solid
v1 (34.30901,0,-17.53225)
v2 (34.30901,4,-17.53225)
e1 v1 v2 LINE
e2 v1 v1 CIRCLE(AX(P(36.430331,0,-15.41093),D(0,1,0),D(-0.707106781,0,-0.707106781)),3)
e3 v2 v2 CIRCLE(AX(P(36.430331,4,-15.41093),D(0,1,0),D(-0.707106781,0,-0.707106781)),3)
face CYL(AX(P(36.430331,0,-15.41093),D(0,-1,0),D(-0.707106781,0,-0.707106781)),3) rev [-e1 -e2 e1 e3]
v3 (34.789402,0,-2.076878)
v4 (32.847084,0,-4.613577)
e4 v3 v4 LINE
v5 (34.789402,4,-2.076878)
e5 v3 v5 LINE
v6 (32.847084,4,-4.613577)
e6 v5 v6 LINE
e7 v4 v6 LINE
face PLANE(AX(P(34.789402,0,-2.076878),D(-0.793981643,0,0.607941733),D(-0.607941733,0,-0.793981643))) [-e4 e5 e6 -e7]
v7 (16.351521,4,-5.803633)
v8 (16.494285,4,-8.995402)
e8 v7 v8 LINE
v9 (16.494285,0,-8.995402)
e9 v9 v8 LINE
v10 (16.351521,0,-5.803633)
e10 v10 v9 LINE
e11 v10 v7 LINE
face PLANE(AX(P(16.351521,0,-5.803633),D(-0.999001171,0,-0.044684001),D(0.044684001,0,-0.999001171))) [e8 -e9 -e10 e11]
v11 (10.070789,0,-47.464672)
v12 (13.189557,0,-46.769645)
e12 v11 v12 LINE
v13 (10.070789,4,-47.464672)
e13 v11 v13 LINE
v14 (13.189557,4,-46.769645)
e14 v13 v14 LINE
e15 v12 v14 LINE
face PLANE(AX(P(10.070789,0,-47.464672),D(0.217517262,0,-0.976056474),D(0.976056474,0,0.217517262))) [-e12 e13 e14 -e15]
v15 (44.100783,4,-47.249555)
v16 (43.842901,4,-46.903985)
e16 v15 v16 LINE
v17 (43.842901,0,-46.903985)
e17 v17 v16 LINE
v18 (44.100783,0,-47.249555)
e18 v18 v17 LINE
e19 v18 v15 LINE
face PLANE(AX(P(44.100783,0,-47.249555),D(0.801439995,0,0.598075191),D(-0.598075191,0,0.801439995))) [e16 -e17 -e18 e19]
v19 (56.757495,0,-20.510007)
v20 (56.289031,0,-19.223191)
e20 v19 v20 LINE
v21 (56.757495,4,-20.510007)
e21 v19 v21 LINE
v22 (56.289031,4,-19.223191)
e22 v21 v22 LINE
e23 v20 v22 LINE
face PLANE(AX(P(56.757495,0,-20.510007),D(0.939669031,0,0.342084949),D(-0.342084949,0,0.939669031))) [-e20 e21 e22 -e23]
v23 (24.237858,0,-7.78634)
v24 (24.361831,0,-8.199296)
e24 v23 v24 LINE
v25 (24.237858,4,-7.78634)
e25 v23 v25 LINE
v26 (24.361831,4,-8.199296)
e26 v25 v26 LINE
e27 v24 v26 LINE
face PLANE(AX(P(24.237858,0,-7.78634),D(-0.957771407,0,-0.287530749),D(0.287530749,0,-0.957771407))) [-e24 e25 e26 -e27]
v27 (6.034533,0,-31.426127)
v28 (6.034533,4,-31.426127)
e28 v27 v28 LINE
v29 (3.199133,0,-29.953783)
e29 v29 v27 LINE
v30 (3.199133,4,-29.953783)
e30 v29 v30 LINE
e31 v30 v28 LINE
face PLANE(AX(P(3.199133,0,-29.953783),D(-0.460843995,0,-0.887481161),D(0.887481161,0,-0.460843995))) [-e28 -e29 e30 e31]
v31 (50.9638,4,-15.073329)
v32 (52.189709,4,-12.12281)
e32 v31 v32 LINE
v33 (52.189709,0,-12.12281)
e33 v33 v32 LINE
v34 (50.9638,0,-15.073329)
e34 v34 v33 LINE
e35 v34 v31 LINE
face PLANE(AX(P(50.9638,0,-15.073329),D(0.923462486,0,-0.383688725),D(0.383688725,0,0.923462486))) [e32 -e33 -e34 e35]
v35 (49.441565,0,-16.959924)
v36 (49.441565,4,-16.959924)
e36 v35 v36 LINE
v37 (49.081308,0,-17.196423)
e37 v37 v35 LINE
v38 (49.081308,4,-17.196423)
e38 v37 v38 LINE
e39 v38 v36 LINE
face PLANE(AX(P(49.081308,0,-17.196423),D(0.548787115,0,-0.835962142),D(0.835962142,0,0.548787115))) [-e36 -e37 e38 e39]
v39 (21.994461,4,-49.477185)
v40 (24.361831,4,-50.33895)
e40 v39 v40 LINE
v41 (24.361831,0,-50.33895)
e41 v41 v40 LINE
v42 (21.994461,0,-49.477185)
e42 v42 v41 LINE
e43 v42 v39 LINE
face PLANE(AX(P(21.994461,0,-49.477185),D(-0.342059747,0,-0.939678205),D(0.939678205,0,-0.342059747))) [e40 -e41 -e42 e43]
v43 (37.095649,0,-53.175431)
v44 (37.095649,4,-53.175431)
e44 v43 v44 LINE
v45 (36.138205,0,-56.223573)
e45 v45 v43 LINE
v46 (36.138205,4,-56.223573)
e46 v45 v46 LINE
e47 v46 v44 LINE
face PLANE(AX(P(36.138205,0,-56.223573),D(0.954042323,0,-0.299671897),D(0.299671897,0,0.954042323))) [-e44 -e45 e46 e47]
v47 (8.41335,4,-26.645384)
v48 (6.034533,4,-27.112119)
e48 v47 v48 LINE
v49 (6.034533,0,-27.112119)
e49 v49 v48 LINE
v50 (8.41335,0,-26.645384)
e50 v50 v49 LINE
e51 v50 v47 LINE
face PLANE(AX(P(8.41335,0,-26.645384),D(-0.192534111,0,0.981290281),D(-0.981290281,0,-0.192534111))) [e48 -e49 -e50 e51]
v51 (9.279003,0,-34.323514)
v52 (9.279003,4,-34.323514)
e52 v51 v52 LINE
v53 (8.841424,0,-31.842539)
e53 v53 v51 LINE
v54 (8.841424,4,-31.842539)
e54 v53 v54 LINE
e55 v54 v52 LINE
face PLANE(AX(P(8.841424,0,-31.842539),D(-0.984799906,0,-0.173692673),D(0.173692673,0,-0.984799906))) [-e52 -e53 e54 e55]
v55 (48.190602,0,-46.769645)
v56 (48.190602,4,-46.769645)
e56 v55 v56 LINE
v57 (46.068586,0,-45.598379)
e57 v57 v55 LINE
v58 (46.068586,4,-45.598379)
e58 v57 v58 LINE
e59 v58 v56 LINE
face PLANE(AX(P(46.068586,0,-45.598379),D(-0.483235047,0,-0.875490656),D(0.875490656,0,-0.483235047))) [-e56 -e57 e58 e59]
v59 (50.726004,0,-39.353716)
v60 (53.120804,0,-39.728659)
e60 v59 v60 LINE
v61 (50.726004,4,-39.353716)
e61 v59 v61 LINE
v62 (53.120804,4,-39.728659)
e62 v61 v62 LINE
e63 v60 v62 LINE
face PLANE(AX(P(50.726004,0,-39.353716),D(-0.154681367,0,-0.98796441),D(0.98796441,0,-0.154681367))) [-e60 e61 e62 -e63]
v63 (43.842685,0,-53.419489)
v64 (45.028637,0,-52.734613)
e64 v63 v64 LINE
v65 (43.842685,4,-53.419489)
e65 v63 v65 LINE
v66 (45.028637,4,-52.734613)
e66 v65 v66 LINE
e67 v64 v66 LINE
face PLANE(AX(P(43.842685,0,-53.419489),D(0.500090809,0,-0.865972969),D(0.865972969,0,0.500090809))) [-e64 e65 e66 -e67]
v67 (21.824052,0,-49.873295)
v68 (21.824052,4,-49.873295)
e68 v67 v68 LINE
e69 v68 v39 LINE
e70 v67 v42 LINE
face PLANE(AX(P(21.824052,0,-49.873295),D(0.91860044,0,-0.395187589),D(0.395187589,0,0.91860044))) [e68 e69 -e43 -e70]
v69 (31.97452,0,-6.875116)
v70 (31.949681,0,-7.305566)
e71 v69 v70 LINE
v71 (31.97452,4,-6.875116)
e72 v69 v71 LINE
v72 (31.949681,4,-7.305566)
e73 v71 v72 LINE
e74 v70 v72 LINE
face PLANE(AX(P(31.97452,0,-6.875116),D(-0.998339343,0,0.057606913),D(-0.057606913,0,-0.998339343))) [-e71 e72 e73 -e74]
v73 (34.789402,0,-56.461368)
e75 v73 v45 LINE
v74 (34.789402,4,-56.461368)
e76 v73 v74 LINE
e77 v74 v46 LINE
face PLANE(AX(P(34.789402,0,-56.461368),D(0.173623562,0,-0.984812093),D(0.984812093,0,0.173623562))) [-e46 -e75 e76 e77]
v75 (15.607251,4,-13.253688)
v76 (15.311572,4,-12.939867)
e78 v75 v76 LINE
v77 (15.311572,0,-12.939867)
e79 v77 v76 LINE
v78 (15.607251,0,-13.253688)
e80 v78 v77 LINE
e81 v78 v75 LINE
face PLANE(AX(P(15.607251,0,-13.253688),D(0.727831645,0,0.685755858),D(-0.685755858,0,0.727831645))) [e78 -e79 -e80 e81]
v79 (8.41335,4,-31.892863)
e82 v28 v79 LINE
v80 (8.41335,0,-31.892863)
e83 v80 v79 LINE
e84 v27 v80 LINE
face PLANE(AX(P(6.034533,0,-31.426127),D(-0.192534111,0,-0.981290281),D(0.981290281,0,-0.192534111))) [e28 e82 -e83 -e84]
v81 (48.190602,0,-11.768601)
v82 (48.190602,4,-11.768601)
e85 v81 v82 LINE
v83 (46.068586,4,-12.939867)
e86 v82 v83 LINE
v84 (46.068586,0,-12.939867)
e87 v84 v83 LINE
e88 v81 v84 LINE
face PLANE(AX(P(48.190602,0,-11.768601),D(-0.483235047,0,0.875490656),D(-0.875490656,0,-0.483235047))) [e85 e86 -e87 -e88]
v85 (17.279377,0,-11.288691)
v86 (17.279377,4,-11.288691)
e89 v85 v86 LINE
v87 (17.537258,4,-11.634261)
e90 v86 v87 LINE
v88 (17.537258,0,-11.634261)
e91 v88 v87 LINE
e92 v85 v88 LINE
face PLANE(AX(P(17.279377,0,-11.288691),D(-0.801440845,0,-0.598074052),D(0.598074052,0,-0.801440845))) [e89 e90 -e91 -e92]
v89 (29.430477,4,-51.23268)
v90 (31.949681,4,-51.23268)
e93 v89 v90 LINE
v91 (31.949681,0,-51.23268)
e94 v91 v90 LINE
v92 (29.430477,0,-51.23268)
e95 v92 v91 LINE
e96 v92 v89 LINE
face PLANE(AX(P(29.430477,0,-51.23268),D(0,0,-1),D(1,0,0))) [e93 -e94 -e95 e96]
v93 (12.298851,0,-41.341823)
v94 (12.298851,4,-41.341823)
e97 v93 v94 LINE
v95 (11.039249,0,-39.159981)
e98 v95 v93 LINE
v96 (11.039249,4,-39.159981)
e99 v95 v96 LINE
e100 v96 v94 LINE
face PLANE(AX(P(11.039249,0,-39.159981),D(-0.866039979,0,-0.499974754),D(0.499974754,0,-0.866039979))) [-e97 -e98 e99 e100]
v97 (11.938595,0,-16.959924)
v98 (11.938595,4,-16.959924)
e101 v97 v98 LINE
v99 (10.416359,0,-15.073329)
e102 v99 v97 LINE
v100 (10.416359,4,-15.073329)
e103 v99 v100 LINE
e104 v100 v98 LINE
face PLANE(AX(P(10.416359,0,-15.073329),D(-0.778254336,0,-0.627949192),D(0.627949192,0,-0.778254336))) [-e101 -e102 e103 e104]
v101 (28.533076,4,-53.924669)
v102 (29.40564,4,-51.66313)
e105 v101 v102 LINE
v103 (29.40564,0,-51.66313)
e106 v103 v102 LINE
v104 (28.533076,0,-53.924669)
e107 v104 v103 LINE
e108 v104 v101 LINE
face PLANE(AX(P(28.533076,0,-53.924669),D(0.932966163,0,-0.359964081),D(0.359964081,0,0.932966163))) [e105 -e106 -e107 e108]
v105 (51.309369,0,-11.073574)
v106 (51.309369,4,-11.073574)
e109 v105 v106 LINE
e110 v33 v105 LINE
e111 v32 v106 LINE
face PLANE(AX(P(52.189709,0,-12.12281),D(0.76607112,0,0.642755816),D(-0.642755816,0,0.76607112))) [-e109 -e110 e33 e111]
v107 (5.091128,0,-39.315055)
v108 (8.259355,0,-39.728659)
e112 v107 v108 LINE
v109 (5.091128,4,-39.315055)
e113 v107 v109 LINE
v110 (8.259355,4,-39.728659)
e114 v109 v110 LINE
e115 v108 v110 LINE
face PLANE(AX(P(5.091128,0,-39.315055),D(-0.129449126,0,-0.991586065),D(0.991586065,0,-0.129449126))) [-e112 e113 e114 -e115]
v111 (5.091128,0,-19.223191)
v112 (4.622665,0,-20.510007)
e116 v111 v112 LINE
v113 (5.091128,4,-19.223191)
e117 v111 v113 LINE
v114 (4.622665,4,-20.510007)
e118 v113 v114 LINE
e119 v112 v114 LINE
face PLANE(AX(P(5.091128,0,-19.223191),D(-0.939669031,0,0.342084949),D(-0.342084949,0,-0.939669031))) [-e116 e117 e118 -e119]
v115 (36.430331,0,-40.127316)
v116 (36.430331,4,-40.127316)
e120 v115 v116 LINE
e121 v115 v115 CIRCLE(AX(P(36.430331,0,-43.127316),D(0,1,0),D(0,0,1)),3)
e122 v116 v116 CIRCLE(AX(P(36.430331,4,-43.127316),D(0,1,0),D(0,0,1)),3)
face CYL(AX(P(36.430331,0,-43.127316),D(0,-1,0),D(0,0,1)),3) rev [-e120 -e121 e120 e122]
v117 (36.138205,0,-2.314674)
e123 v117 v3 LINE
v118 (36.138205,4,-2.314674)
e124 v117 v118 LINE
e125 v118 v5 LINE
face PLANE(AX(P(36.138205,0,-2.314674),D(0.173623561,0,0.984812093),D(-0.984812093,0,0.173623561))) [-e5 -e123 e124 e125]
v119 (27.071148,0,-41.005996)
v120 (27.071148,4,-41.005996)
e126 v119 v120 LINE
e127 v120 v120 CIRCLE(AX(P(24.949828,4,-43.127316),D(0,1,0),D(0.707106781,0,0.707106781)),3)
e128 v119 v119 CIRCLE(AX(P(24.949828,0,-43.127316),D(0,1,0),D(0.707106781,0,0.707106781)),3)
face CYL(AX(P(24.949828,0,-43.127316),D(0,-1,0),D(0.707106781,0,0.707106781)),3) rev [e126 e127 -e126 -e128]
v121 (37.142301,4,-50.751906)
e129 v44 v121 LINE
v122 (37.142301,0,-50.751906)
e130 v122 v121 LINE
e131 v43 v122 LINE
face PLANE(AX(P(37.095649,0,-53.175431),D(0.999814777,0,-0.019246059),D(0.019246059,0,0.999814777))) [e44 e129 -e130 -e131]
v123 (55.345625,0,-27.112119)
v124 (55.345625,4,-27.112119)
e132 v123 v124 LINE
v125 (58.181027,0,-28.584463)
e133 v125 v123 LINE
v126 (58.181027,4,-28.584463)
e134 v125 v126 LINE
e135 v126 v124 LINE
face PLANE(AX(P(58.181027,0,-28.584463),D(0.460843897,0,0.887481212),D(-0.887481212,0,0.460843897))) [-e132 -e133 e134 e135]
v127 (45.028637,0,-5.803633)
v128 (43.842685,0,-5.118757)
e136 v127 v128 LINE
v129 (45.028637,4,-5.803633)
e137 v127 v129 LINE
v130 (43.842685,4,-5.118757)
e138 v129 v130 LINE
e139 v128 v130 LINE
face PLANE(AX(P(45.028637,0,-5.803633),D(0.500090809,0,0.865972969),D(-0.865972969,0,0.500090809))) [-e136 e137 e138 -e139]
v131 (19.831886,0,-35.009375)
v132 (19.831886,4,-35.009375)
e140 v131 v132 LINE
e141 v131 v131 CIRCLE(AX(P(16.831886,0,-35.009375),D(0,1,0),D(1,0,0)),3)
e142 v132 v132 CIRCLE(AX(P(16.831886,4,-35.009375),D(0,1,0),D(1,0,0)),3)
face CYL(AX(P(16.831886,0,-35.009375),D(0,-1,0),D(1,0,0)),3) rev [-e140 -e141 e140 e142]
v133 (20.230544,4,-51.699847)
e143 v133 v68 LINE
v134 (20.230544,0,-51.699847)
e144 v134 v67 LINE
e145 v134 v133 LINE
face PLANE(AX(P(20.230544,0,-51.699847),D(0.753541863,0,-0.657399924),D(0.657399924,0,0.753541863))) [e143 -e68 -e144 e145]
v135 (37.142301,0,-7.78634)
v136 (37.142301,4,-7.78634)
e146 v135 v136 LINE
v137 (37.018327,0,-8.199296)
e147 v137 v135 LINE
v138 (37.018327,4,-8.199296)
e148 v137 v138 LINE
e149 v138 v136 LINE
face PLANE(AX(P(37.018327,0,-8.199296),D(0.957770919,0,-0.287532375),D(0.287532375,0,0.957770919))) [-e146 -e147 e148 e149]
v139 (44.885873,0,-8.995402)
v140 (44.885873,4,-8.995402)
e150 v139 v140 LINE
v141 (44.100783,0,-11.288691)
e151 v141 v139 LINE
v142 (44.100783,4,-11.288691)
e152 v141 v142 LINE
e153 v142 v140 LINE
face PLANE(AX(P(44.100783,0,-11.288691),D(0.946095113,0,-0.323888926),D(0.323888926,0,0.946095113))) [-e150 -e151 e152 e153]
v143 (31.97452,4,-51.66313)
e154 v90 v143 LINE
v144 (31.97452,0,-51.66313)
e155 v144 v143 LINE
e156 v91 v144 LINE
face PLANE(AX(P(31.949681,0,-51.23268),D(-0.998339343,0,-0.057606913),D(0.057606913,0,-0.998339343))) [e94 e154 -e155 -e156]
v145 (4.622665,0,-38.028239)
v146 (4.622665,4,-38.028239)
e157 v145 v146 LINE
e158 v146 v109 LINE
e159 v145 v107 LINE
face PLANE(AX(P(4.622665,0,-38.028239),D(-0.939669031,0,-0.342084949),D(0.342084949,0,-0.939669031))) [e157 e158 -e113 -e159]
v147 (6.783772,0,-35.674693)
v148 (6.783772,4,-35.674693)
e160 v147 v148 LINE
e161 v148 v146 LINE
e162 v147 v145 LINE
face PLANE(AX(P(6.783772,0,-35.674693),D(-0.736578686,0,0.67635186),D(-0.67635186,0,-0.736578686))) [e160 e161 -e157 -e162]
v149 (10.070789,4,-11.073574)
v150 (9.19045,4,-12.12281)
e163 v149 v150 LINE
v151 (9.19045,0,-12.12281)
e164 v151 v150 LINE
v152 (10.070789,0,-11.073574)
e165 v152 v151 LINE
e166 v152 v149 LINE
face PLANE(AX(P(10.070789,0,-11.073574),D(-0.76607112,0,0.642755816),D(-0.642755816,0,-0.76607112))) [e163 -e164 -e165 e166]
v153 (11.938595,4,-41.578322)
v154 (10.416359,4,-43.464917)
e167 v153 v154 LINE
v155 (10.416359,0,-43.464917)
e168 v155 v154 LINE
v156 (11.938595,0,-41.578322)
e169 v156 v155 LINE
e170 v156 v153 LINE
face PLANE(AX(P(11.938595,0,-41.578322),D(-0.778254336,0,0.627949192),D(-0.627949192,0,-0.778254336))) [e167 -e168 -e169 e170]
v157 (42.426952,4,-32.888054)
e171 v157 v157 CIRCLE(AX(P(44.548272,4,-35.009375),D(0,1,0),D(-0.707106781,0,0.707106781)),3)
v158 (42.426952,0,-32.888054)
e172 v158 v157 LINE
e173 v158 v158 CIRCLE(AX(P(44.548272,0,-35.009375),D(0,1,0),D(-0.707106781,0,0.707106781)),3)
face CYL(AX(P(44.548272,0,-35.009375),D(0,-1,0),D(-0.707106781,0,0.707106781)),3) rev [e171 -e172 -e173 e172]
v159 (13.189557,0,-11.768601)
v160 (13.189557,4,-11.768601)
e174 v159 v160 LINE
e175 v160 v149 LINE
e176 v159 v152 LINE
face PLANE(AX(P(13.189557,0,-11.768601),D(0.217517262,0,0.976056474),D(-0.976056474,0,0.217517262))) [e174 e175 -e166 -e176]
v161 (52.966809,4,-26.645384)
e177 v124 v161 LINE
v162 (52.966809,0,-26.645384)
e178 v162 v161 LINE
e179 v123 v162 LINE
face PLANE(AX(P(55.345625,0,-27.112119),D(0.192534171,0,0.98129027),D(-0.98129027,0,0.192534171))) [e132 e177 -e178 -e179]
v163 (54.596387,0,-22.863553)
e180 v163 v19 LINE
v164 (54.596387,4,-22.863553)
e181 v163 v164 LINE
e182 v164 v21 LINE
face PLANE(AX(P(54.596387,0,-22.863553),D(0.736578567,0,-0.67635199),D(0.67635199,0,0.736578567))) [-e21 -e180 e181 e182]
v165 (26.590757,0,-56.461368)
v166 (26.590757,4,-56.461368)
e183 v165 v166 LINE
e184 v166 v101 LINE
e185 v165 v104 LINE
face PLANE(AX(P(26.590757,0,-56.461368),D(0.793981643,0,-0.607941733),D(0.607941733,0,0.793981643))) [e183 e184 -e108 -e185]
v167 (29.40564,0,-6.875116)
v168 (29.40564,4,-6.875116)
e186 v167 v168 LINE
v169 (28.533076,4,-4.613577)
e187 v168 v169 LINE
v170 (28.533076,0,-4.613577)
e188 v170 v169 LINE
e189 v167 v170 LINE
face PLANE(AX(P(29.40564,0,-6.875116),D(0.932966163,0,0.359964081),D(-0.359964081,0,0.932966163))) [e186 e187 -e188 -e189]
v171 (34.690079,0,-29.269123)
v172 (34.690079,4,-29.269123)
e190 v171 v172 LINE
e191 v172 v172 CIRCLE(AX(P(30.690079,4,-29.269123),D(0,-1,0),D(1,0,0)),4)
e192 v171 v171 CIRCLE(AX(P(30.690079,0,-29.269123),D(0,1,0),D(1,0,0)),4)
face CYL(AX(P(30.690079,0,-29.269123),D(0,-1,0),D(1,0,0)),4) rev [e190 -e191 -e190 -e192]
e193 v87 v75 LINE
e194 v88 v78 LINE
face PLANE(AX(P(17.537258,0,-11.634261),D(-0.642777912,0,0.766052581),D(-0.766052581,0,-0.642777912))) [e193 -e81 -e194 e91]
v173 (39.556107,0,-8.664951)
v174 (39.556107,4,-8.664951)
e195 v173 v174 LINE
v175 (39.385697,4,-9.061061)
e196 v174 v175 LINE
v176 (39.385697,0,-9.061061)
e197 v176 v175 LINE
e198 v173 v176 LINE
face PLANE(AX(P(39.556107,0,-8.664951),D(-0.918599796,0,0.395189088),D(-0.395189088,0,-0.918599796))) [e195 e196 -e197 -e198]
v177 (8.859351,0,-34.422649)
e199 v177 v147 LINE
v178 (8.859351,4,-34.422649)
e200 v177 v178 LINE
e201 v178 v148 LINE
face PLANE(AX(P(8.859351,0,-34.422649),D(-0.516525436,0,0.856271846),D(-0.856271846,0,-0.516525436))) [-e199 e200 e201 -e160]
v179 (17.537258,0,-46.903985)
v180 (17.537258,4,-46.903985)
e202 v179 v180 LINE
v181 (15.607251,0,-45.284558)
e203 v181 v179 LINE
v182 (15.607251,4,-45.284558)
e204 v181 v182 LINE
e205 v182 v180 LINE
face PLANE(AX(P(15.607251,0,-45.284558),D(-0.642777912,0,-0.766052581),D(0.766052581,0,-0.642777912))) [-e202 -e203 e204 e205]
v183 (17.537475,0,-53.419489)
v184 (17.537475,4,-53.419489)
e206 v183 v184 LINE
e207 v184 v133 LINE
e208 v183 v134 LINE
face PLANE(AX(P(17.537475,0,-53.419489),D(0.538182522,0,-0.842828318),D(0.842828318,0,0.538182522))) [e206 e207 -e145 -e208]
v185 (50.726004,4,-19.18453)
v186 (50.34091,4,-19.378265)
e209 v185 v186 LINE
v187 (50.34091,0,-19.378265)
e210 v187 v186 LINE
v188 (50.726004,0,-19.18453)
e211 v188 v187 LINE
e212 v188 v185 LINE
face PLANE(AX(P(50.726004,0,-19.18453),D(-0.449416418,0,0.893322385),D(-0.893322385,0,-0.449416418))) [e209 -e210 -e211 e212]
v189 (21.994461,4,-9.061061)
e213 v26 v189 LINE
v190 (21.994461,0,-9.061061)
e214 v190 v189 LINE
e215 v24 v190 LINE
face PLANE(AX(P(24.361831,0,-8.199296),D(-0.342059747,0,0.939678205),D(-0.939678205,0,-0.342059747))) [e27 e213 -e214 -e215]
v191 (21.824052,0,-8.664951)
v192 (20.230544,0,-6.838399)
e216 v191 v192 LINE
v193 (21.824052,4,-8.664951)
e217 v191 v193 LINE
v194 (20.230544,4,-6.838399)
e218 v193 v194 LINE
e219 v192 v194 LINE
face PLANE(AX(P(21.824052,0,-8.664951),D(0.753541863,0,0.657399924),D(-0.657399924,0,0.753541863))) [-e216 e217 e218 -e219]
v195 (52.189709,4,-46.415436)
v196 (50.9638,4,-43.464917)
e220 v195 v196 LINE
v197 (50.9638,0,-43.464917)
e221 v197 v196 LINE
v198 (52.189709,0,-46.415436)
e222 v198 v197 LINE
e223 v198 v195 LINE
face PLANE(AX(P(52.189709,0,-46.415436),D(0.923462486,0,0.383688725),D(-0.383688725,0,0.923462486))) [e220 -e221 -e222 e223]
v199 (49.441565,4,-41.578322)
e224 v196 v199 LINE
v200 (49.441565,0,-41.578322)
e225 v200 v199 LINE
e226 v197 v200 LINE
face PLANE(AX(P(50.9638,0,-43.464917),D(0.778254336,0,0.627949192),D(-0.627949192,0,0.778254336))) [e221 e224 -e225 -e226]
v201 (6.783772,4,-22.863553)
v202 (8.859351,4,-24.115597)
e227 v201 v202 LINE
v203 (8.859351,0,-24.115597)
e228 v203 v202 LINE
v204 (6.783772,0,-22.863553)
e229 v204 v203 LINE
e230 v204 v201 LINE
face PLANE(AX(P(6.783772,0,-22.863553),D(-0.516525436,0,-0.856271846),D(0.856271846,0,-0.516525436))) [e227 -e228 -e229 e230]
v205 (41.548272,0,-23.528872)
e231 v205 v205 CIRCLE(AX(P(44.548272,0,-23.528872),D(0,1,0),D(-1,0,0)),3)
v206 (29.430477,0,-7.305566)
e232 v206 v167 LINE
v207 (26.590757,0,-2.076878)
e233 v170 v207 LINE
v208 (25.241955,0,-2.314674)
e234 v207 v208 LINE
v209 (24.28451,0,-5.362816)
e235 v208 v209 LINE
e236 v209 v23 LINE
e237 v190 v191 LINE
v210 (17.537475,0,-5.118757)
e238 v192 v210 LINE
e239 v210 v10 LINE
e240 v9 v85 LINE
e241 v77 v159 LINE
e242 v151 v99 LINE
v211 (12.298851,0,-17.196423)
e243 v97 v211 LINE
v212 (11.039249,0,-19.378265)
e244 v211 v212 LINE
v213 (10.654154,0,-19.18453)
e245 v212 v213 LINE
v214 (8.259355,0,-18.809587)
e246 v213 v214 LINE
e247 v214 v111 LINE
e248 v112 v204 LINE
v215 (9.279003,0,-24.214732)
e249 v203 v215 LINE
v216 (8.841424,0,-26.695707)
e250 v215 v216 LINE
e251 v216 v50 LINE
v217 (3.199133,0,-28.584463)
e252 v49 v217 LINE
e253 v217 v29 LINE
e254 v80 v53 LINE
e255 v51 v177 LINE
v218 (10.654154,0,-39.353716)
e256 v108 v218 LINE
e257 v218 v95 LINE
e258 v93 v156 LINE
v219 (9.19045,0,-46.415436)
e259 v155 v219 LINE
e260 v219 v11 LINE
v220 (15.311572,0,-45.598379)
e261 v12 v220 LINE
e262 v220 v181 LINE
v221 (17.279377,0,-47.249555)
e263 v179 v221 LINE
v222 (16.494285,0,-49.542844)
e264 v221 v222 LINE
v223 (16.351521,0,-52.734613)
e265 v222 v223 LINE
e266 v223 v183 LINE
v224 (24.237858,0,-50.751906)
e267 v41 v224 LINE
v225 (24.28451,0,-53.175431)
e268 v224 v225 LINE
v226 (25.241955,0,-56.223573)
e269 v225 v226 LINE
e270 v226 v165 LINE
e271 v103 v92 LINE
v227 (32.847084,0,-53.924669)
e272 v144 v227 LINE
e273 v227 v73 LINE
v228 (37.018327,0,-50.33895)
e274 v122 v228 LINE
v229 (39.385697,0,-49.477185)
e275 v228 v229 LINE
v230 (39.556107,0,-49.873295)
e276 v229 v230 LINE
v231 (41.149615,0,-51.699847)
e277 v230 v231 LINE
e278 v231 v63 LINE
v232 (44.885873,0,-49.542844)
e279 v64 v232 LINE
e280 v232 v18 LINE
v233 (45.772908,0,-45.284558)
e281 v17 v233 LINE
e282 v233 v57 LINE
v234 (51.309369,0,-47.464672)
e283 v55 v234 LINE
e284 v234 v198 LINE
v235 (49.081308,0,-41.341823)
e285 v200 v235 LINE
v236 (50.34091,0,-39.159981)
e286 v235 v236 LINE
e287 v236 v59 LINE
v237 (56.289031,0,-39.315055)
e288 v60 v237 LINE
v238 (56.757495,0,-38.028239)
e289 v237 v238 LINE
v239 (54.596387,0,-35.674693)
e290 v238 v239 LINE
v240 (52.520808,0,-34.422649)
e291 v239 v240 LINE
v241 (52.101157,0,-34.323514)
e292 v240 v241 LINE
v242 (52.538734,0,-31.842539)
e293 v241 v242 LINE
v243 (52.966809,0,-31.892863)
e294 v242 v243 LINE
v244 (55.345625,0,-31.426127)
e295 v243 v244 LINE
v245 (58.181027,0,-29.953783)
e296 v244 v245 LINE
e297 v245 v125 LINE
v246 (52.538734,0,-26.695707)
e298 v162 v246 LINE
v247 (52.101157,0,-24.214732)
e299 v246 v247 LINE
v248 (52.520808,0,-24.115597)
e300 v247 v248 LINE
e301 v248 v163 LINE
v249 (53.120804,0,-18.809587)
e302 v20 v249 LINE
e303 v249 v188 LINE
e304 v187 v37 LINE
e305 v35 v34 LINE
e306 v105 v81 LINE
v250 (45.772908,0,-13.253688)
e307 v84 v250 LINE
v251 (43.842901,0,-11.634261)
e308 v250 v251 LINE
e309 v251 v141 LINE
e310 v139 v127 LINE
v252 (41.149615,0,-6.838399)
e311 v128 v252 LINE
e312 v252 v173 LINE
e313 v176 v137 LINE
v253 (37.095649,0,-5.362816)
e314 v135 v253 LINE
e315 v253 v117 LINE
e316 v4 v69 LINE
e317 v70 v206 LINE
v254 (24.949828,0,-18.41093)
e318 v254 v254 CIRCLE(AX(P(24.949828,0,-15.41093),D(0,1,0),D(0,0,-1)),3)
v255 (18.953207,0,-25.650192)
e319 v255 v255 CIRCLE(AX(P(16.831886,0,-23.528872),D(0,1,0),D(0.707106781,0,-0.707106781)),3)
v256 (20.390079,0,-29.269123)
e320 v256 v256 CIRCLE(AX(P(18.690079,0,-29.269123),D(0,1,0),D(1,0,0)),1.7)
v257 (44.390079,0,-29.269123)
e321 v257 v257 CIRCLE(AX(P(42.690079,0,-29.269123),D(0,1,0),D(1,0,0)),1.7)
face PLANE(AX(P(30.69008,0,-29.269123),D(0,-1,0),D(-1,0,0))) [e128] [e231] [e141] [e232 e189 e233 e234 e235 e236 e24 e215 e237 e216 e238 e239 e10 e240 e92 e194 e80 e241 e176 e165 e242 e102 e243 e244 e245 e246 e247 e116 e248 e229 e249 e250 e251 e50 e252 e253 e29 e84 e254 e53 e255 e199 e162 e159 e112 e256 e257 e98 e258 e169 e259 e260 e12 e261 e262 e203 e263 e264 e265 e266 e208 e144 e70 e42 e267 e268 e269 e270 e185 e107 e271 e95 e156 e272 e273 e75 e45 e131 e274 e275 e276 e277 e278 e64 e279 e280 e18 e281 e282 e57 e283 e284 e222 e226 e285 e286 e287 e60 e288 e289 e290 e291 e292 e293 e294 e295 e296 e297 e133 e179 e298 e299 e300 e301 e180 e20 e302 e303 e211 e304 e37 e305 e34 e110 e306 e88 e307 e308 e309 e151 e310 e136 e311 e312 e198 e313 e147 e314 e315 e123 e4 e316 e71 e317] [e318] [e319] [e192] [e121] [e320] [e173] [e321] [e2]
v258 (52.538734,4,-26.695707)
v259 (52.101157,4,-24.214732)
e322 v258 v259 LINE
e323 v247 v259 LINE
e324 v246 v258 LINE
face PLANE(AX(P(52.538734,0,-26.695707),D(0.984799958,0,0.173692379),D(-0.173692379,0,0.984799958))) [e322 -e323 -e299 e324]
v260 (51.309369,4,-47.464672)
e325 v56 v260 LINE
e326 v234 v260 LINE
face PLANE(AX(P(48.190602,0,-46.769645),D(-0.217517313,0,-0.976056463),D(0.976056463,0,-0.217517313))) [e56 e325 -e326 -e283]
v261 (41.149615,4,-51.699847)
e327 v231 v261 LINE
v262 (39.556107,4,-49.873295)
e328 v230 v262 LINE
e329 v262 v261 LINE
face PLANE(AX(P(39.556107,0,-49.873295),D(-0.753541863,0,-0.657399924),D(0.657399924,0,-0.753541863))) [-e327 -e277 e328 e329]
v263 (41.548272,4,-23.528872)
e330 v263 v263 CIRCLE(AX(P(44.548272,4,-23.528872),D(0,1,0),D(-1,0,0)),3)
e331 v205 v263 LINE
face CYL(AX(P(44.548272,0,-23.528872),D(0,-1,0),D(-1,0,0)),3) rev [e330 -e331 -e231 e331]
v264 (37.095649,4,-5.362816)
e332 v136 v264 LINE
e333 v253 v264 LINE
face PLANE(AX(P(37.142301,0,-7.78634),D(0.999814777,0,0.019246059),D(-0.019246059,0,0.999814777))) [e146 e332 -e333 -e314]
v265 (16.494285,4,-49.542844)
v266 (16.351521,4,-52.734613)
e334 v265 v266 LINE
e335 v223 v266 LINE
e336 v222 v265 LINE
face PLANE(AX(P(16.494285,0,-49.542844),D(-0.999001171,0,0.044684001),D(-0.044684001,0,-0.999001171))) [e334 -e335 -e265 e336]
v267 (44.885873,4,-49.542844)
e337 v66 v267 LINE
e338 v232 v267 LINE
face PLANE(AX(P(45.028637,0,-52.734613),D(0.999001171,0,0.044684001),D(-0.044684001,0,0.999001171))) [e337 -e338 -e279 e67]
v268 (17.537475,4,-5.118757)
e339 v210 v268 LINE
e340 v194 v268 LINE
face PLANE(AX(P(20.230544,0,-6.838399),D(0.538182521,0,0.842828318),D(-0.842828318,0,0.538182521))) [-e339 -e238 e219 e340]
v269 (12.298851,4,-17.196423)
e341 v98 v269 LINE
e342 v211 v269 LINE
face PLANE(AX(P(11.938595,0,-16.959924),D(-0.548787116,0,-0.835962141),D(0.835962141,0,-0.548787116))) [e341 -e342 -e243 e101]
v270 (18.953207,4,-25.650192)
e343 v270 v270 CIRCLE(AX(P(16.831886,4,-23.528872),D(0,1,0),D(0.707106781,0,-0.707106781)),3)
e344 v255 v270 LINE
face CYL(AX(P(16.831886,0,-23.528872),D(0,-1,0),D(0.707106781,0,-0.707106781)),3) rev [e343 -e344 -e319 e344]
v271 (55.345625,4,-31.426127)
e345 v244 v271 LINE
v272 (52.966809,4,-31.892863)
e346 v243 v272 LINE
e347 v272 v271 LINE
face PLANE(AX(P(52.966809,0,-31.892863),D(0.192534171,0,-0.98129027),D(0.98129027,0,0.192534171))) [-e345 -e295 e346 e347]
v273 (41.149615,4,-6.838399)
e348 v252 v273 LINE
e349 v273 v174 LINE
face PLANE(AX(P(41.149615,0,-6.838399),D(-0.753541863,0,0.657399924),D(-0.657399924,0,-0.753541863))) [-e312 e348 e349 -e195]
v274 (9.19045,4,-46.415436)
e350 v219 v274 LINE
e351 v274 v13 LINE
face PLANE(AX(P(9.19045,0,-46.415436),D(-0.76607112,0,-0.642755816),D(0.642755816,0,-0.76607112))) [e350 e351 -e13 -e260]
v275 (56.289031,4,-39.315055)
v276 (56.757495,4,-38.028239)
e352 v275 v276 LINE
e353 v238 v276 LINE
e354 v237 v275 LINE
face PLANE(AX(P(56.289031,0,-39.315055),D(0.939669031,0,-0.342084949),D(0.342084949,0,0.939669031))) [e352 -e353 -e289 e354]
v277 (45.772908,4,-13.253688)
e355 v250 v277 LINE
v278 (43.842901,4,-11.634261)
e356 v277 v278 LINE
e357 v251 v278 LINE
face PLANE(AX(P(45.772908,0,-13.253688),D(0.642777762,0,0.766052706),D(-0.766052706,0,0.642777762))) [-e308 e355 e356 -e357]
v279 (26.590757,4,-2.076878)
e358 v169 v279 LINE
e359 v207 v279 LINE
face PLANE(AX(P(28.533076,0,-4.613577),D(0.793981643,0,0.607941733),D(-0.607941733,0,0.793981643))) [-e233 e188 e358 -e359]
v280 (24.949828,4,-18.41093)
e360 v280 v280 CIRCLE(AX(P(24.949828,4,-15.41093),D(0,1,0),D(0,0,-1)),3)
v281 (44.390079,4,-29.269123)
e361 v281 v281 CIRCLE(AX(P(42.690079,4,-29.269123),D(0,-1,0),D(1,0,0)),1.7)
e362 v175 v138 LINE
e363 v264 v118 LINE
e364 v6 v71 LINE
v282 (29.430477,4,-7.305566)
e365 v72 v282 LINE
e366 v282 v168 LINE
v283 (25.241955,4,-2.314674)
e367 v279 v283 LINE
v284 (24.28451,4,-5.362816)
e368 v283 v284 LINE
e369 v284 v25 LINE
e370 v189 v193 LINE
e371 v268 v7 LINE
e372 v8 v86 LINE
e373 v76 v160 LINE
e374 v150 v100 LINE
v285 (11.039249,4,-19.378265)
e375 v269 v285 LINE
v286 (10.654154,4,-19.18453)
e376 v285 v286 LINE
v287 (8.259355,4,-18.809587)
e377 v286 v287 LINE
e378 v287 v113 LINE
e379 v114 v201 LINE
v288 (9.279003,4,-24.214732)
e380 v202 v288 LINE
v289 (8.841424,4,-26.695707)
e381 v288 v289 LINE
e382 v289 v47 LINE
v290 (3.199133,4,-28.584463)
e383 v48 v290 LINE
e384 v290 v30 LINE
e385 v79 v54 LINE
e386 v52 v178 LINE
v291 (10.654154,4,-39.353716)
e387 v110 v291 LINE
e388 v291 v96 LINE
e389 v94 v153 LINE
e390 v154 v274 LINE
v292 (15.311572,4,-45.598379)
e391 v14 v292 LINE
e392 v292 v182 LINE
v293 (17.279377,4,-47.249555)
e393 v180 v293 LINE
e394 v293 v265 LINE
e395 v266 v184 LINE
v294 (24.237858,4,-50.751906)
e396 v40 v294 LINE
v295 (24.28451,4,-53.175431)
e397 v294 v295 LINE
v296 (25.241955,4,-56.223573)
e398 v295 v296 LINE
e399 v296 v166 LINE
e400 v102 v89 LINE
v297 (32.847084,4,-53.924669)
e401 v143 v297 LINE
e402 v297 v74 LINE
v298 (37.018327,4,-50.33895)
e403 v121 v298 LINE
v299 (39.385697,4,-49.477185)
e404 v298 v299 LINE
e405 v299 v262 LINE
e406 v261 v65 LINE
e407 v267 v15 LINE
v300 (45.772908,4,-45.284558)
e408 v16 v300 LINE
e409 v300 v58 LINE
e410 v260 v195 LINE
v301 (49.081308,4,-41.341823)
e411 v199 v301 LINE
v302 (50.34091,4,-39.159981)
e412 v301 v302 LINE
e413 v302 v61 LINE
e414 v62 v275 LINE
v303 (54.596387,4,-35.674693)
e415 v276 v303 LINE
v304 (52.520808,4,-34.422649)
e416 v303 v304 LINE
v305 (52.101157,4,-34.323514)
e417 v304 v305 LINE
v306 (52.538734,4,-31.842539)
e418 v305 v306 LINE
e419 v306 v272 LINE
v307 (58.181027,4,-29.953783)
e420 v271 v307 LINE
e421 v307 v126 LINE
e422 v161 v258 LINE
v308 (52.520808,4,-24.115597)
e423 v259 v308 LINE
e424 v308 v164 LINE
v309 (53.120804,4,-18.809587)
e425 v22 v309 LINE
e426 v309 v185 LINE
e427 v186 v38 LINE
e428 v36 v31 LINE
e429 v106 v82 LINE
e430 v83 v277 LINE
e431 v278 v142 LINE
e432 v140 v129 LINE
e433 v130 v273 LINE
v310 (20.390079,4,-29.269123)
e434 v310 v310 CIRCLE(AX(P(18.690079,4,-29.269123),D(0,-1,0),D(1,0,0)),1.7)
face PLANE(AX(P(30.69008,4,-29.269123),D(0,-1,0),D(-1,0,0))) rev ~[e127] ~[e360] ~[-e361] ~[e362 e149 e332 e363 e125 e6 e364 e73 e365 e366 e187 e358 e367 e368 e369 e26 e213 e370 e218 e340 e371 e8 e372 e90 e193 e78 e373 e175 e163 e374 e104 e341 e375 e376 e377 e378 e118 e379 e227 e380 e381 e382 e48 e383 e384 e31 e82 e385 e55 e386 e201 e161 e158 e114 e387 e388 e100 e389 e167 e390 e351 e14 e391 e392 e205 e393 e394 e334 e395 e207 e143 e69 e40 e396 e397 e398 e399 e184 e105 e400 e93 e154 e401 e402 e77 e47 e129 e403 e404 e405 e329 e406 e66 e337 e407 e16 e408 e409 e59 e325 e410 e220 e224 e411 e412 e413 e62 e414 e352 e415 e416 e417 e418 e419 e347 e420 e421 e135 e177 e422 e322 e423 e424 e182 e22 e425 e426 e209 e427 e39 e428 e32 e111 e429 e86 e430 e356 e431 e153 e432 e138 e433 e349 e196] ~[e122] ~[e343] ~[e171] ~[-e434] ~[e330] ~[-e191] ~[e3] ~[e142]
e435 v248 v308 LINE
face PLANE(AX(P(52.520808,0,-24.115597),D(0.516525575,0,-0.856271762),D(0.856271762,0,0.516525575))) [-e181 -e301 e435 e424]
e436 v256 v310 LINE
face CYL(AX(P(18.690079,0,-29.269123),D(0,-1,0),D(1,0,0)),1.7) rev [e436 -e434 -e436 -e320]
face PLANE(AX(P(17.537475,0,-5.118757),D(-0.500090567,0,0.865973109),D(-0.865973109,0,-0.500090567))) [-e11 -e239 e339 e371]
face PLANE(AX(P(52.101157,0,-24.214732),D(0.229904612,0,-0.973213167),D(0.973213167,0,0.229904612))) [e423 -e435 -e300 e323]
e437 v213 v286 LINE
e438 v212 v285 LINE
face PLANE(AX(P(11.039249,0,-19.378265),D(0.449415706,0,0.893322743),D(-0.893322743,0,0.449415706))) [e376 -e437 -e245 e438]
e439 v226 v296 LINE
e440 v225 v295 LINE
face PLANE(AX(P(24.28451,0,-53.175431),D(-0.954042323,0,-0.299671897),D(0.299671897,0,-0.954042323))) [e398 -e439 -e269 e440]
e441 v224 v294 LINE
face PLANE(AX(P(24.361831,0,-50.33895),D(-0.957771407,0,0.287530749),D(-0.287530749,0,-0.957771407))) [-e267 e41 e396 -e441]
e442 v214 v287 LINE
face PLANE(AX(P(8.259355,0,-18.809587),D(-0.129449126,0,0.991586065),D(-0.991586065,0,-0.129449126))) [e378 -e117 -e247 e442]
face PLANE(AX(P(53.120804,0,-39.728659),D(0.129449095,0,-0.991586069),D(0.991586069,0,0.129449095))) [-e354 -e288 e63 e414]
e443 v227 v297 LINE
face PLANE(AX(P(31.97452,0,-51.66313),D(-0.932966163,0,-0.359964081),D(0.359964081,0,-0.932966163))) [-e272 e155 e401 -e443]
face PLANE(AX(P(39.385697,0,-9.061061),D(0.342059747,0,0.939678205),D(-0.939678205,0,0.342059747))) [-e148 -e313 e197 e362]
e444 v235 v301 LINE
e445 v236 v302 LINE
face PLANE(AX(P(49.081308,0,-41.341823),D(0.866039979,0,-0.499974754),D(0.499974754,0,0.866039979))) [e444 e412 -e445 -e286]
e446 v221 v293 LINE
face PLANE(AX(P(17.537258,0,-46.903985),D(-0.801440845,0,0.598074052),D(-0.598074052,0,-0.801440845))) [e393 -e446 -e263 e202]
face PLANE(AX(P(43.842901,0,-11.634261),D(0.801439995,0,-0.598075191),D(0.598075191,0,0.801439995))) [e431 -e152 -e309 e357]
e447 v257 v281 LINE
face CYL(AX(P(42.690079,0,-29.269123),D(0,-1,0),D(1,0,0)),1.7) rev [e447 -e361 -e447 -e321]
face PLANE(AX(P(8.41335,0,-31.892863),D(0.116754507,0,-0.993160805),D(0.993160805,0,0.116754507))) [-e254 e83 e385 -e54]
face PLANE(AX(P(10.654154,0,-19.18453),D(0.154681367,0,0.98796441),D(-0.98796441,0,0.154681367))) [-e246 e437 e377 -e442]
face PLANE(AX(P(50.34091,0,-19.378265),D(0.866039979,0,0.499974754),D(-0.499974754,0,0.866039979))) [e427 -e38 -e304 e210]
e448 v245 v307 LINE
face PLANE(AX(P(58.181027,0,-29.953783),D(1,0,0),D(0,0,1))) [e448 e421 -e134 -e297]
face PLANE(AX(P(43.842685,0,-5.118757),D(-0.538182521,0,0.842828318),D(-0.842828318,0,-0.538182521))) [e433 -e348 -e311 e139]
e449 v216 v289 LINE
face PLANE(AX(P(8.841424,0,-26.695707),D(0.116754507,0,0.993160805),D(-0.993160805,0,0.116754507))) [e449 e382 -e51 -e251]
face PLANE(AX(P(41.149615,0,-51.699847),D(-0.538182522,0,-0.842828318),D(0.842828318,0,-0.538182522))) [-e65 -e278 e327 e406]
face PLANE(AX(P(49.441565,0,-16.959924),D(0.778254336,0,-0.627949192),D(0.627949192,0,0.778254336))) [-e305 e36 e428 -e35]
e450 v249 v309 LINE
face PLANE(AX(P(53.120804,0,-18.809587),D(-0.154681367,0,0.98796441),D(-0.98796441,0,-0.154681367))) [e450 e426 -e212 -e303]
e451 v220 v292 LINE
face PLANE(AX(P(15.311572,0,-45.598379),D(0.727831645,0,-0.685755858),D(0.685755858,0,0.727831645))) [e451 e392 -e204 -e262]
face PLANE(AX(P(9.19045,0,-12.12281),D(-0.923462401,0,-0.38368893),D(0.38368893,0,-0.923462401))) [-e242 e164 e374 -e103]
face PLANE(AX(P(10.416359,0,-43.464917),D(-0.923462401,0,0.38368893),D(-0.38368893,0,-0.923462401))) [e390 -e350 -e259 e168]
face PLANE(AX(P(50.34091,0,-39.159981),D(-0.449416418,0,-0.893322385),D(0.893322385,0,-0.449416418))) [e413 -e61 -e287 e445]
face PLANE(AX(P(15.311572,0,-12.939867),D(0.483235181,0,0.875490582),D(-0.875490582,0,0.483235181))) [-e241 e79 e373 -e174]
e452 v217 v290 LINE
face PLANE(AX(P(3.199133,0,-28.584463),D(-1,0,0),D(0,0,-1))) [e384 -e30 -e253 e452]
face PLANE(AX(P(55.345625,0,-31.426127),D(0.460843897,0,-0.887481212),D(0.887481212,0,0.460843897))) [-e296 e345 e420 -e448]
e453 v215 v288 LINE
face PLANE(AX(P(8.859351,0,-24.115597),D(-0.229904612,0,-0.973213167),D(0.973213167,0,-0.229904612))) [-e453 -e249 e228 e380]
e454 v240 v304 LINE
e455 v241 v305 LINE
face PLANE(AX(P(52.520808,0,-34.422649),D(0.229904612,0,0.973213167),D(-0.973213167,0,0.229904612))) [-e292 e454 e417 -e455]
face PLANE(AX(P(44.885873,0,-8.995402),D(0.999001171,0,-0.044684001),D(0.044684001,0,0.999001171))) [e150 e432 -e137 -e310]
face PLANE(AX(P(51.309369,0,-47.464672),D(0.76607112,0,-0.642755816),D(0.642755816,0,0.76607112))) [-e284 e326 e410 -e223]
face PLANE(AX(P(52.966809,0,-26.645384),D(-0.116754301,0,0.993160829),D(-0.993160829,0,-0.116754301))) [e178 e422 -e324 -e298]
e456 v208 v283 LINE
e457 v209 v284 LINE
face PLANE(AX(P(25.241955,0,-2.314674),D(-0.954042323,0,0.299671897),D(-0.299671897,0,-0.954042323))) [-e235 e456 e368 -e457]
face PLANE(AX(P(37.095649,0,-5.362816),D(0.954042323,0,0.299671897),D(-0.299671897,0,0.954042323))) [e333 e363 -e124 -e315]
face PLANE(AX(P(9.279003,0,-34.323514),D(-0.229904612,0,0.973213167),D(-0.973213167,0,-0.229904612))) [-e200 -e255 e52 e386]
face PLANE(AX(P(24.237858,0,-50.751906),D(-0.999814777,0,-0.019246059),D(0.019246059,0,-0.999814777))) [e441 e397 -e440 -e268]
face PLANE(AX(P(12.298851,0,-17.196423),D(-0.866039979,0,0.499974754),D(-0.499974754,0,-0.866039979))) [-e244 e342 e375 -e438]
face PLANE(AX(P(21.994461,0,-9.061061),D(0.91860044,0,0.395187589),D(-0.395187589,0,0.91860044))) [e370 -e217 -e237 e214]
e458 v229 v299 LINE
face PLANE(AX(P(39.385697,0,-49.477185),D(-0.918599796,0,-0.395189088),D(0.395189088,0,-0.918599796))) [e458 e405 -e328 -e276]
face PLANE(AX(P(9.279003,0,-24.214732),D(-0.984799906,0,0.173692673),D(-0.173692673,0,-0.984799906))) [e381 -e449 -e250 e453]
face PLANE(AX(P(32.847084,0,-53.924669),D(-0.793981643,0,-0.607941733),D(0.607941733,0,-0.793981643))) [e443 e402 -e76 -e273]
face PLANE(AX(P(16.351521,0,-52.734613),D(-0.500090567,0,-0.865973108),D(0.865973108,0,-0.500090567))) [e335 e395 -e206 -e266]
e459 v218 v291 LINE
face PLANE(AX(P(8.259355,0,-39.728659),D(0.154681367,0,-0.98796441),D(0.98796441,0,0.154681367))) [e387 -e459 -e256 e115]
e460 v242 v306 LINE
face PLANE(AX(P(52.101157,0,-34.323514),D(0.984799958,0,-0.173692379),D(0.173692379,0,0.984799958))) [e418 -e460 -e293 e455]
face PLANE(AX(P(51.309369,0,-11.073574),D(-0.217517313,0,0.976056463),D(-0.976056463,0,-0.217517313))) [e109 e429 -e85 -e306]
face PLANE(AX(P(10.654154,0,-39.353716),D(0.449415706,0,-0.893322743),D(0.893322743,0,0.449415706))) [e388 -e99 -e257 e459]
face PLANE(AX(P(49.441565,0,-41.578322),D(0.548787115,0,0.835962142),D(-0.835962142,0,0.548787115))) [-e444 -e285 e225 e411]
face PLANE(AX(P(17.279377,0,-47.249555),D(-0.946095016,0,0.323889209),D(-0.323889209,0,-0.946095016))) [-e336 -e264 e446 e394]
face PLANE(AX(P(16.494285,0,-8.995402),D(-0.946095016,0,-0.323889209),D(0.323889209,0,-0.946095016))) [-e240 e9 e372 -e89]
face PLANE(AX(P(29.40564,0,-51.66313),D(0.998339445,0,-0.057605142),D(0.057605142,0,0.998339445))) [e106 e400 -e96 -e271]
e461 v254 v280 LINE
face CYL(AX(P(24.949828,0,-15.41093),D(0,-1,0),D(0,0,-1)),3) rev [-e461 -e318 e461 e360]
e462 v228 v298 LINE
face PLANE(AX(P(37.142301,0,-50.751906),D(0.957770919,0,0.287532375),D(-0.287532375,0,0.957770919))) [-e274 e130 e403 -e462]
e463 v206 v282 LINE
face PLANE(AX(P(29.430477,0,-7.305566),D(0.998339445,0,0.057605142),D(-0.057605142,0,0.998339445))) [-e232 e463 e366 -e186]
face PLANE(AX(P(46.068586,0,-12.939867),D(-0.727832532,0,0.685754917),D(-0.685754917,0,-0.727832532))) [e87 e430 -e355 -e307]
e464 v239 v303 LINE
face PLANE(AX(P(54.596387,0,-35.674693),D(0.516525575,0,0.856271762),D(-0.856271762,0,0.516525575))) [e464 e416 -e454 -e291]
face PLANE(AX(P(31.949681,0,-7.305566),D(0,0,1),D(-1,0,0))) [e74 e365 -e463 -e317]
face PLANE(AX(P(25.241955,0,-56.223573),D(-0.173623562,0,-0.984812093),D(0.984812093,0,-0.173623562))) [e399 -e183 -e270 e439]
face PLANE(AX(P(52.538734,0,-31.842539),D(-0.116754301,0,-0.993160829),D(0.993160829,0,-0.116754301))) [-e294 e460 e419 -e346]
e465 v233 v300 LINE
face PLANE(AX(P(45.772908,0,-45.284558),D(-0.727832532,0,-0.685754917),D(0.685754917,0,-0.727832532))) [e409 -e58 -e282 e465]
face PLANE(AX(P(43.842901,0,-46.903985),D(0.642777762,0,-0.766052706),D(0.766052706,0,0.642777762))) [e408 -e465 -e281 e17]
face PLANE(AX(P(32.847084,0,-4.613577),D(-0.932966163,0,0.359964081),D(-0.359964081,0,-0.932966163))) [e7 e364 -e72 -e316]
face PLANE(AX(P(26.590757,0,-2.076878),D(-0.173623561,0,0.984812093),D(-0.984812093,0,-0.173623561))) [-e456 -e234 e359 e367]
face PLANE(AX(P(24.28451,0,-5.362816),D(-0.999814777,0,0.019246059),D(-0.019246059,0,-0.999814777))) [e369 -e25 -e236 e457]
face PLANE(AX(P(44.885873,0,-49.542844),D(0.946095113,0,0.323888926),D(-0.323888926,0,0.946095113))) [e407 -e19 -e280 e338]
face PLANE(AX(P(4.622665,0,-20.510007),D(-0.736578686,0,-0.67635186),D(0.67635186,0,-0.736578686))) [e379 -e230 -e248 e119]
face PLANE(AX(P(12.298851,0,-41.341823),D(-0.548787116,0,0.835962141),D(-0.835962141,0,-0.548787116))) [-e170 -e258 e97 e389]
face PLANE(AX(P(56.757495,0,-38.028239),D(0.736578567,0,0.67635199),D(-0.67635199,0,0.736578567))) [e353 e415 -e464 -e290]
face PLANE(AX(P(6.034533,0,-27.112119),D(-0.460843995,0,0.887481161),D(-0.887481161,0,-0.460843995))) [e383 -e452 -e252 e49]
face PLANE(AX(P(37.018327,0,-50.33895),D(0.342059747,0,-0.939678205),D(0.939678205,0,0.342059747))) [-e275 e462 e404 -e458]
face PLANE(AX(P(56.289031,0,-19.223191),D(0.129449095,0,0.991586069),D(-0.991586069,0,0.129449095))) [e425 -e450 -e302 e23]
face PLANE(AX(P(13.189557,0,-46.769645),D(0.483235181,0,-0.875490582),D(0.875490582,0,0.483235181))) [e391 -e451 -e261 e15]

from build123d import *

# Parameters (mm, degrees)
BOSS_EXTRUDE1_DEPTH = 4
CUT_EXTRUDE1_REACH  = 6
SKETCH3_R           = 4
SKETCH3_R_2         = 1.7
SKETCH4_R           = 3
CUT_EXTRUDE2_DEPTH  = 4
CIRPATTERN1_COUNT   = 8


with BuildPart() as part:
    # Sketch2 → Boss-Extrude1 (new body)
    with BuildSketch(Plane(origin=(0, 0, 0), x_dir=(1, 0, 0), z_dir=(0, 1, 0))):
        Polygon((52.538734218, 31.842538875), (52.966809318, 31.892862657), (55.345625477, 31.426126758), (58.18102676, 29.953783051), (58.18102676, 28.584463126), (55.345625477, 27.112119419), (52.966809318, 26.64538352), (52.538734218, 26.695707302), (52.101156541, 24.214732135), (52.520808121, 24.115596779), (54.59638672, 22.863553353), (56.757494627, 20.510006991), (56.289031474, 19.223191192), (53.12080355, 18.809586915), (50.72600436, 19.184530393), (50.340910107, 19.378265245), (49.081307935, 17.196423401), (49.441564779, 16.959924277), (50.963799881, 15.07332886), (52.189708735, 12.122809954), (51.309369324, 11.073573865), (48.190601939, 11.768601179), (46.068586453, 12.939866968), (45.772908404, 13.25368769), (43.842900517, 11.634261062), (44.100782542, 11.288690853), (44.885873492, 8.995402472), (45.028637129, 5.803632771), (43.842684706, 5.118756998), (41.149615437, 6.838398802), (39.556106805, 8.664951285), (39.385697153, 9.061061087), (37.018327401, 8.199295971), (37.142300931, 7.786339893), (37.095648999, 5.362815632), (36.138204566, 2.314673579), (34.789402002, 2.076878058), (32.847083699, 4.613576876), (31.97451961, 6.875115771), (31.949681435, 7.305566323), (29.430477092, 7.305566323), (29.405639683, 6.875115771), (28.533075594, 4.613576876), (26.590757291, 2.076878058), (25.241954726, 2.314673579), (24.284510294, 5.362815632), (24.237858361, 7.786339893), (24.361831127, 8.199295971), (21.994461374, 9.061061087), (21.824052488, 8.664951285), (20.230543856, 6.838398802), (17.537474587, 5.118756998), (16.351521398, 5.803632771), (16.494285035, 8.995402472), (17.279376751, 11.288690853), (17.537258011, 11.634261062), (15.607250889, 13.25368769), (15.311572074, 12.939866968), (13.189557354, 11.768601179), (10.070789203, 11.073573865), (9.190449792, 12.122809954), (10.416359412, 15.07332886), (11.938594514, 16.959924277), (12.298851357, 17.196423401), (11.039249186, 19.378265245), (10.654154168, 19.184530393), (8.259354977, 18.809586915), (5.091127819, 19.223191192), (4.622664666, 20.510006991), (6.783771808, 22.863553353), (8.859351172, 24.115596779), (9.279002752, 24.214732135), (8.84142431, 26.695707302), (8.413349975, 26.64538352), (6.034533051, 27.112119419), (3.199132533, 28.584463126), (3.199132533, 29.953783051), (6.034533051, 31.426126758), (8.413349975, 31.892862657), (8.84142431, 31.842538875), (9.279002752, 34.323514042), (8.859351172, 34.422649398), (6.783771808, 35.674692824), (4.622664666, 38.028239186), (5.091127819, 39.315054985), (8.259354977, 39.728659262), (10.654154168, 39.353715784), (11.039249186, 39.159980932), (12.298851357, 41.341822776), (11.938594514, 41.5783219), (10.416359412, 43.464917317), (9.190449792, 46.415436223), (10.070789203, 47.464672312), (13.189557354, 46.769644998), (15.311572074, 45.598379209), (15.607250889, 45.284558487), (17.537258011, 46.903985115), (17.279376751, 47.249555324), (16.494285035, 49.542843705), (16.351521398, 52.734613406), (17.537474587, 53.41948918), (20.230543856, 51.699847375), (21.824052488, 49.873294892), (21.994461374, 49.47718509), (24.361831127, 50.338950206), (24.237858361, 50.751906284), (24.284510294, 53.175430545), (25.241954726, 56.223572598), (26.590757291, 56.46136812), (28.533075594, 53.924669301), (29.405639683, 51.663130406), (29.430477092, 51.232679854), (31.949681435, 51.232679854), (31.97451961, 51.663130406), (32.847083699, 53.924669301), (34.789402002, 56.46136812), (36.138204566, 56.223572598), (37.095648999, 53.175430545), (37.142300931, 50.751906284), (37.018327401, 50.338950206), (39.385697153, 49.47718509), (39.556106805, 49.873294892), (41.149615437, 51.699847375), (43.842684706, 53.41948918), (45.028637129, 52.734613406), (44.885873492, 49.542843705), (44.100782542, 47.249555324), (43.842900517, 46.903985115), (45.772908404, 45.284558487), (46.068586453, 45.598379209), (48.190601939, 46.769644998), (51.309369324, 47.464672312), (52.189708735, 46.415436223), (50.963799881, 43.464917317), (49.441564779, 41.5783219), (49.081307935, 41.341822776), (50.340910107, 39.159980932), (50.72600436, 39.353715784), (53.12080355, 39.728659262), (56.289031474, 39.315054985), (56.757494627, 38.028239186), (54.59638672, 35.674692824), (52.520808121, 34.422649398), (52.101156541, 34.323514042), align=None)
    extrude(amount=BOSS_EXTRUDE1_DEPTH)

    # Sketch3 → Cut-Extrude1 (cut, up to next)
    with BuildSketch(Plane(origin=(0, 0, 0), x_dir=(1, 0, 0), z_dir=(0, 1, 0)), mode=Mode.PRIVATE) as cut_extrude1_sk1:
        with Locations((30.690079264, 29.269123089)):
            Circle(SKETCH3_R)
    cut_extrude1_tool1 = extrude(cut_extrude1_sk1.sketch, amount=CUT_EXTRUDE1_REACH, mode=Mode.PRIVATE) & part.part
    add(cut_extrude1_tool1.solids().sort_by_distance((30.690079, 0, -29.269123))[0], mode=Mode.SUBTRACT)
    # Sketch3 → Cut-Extrude1 (cut, up to next)
    with BuildSketch(Plane(origin=(0, 0, 0), x_dir=(1, 0, 0), z_dir=(0, 1, 0)), mode=Mode.PRIVATE) as cut_extrude1_sk2:
        with Locations((18.690079264, 29.269123089)):
            Circle(SKETCH3_R_2)
    cut_extrude1_tool2 = extrude(cut_extrude1_sk2.sketch, amount=CUT_EXTRUDE1_REACH, mode=Mode.PRIVATE) & part.part
    add(cut_extrude1_tool2.solids().sort_by_distance((18.690079, 0, -29.269123))[0], mode=Mode.SUBTRACT)
    # Sketch3 → Cut-Extrude1 (cut, up to next)
    with BuildSketch(Plane(origin=(0, 0, 0), x_dir=(1, 0, 0), z_dir=(0, 1, 0)), mode=Mode.PRIVATE) as cut_extrude1_sk3:
        with Locations((42.690079264, 29.269123089)):
            Circle(SKETCH3_R_2)
    cut_extrude1_tool3 = extrude(cut_extrude1_sk3.sketch, amount=CUT_EXTRUDE1_REACH, mode=Mode.PRIVATE) & part.part
    add(cut_extrude1_tool3.solids().sort_by_distance((42.690079, 0, -29.269123))[0], mode=Mode.SUBTRACT)

    # Sketch4 → Cut-Extrude2 (cut)
    with BuildSketch(Plane(origin=(0, 0, 0), x_dir=(1, 0, 0), z_dir=(0, 1, 0))):
        with Locations((16.831886276, 35.009374574)):
            Circle(SKETCH4_R)
    cut_extrude2 = extrude(amount=CUT_EXTRUDE2_DEPTH, mode=Mode.SUBTRACT)

    # CirPattern1: Cut-Extrude2 ×8 about axis
    cirpattern1_axis = Axis((30.690079264, 0, -29.269123089), (0, 1, 0))
    for i in range(1, CIRPATTERN1_COUNT):
        add(cut_extrude2.rotate(cirpattern1_axis, i * 360 / CIRPATTERN1_COUNT), mode=Mode.SUBTRACT)


solid = part.part
